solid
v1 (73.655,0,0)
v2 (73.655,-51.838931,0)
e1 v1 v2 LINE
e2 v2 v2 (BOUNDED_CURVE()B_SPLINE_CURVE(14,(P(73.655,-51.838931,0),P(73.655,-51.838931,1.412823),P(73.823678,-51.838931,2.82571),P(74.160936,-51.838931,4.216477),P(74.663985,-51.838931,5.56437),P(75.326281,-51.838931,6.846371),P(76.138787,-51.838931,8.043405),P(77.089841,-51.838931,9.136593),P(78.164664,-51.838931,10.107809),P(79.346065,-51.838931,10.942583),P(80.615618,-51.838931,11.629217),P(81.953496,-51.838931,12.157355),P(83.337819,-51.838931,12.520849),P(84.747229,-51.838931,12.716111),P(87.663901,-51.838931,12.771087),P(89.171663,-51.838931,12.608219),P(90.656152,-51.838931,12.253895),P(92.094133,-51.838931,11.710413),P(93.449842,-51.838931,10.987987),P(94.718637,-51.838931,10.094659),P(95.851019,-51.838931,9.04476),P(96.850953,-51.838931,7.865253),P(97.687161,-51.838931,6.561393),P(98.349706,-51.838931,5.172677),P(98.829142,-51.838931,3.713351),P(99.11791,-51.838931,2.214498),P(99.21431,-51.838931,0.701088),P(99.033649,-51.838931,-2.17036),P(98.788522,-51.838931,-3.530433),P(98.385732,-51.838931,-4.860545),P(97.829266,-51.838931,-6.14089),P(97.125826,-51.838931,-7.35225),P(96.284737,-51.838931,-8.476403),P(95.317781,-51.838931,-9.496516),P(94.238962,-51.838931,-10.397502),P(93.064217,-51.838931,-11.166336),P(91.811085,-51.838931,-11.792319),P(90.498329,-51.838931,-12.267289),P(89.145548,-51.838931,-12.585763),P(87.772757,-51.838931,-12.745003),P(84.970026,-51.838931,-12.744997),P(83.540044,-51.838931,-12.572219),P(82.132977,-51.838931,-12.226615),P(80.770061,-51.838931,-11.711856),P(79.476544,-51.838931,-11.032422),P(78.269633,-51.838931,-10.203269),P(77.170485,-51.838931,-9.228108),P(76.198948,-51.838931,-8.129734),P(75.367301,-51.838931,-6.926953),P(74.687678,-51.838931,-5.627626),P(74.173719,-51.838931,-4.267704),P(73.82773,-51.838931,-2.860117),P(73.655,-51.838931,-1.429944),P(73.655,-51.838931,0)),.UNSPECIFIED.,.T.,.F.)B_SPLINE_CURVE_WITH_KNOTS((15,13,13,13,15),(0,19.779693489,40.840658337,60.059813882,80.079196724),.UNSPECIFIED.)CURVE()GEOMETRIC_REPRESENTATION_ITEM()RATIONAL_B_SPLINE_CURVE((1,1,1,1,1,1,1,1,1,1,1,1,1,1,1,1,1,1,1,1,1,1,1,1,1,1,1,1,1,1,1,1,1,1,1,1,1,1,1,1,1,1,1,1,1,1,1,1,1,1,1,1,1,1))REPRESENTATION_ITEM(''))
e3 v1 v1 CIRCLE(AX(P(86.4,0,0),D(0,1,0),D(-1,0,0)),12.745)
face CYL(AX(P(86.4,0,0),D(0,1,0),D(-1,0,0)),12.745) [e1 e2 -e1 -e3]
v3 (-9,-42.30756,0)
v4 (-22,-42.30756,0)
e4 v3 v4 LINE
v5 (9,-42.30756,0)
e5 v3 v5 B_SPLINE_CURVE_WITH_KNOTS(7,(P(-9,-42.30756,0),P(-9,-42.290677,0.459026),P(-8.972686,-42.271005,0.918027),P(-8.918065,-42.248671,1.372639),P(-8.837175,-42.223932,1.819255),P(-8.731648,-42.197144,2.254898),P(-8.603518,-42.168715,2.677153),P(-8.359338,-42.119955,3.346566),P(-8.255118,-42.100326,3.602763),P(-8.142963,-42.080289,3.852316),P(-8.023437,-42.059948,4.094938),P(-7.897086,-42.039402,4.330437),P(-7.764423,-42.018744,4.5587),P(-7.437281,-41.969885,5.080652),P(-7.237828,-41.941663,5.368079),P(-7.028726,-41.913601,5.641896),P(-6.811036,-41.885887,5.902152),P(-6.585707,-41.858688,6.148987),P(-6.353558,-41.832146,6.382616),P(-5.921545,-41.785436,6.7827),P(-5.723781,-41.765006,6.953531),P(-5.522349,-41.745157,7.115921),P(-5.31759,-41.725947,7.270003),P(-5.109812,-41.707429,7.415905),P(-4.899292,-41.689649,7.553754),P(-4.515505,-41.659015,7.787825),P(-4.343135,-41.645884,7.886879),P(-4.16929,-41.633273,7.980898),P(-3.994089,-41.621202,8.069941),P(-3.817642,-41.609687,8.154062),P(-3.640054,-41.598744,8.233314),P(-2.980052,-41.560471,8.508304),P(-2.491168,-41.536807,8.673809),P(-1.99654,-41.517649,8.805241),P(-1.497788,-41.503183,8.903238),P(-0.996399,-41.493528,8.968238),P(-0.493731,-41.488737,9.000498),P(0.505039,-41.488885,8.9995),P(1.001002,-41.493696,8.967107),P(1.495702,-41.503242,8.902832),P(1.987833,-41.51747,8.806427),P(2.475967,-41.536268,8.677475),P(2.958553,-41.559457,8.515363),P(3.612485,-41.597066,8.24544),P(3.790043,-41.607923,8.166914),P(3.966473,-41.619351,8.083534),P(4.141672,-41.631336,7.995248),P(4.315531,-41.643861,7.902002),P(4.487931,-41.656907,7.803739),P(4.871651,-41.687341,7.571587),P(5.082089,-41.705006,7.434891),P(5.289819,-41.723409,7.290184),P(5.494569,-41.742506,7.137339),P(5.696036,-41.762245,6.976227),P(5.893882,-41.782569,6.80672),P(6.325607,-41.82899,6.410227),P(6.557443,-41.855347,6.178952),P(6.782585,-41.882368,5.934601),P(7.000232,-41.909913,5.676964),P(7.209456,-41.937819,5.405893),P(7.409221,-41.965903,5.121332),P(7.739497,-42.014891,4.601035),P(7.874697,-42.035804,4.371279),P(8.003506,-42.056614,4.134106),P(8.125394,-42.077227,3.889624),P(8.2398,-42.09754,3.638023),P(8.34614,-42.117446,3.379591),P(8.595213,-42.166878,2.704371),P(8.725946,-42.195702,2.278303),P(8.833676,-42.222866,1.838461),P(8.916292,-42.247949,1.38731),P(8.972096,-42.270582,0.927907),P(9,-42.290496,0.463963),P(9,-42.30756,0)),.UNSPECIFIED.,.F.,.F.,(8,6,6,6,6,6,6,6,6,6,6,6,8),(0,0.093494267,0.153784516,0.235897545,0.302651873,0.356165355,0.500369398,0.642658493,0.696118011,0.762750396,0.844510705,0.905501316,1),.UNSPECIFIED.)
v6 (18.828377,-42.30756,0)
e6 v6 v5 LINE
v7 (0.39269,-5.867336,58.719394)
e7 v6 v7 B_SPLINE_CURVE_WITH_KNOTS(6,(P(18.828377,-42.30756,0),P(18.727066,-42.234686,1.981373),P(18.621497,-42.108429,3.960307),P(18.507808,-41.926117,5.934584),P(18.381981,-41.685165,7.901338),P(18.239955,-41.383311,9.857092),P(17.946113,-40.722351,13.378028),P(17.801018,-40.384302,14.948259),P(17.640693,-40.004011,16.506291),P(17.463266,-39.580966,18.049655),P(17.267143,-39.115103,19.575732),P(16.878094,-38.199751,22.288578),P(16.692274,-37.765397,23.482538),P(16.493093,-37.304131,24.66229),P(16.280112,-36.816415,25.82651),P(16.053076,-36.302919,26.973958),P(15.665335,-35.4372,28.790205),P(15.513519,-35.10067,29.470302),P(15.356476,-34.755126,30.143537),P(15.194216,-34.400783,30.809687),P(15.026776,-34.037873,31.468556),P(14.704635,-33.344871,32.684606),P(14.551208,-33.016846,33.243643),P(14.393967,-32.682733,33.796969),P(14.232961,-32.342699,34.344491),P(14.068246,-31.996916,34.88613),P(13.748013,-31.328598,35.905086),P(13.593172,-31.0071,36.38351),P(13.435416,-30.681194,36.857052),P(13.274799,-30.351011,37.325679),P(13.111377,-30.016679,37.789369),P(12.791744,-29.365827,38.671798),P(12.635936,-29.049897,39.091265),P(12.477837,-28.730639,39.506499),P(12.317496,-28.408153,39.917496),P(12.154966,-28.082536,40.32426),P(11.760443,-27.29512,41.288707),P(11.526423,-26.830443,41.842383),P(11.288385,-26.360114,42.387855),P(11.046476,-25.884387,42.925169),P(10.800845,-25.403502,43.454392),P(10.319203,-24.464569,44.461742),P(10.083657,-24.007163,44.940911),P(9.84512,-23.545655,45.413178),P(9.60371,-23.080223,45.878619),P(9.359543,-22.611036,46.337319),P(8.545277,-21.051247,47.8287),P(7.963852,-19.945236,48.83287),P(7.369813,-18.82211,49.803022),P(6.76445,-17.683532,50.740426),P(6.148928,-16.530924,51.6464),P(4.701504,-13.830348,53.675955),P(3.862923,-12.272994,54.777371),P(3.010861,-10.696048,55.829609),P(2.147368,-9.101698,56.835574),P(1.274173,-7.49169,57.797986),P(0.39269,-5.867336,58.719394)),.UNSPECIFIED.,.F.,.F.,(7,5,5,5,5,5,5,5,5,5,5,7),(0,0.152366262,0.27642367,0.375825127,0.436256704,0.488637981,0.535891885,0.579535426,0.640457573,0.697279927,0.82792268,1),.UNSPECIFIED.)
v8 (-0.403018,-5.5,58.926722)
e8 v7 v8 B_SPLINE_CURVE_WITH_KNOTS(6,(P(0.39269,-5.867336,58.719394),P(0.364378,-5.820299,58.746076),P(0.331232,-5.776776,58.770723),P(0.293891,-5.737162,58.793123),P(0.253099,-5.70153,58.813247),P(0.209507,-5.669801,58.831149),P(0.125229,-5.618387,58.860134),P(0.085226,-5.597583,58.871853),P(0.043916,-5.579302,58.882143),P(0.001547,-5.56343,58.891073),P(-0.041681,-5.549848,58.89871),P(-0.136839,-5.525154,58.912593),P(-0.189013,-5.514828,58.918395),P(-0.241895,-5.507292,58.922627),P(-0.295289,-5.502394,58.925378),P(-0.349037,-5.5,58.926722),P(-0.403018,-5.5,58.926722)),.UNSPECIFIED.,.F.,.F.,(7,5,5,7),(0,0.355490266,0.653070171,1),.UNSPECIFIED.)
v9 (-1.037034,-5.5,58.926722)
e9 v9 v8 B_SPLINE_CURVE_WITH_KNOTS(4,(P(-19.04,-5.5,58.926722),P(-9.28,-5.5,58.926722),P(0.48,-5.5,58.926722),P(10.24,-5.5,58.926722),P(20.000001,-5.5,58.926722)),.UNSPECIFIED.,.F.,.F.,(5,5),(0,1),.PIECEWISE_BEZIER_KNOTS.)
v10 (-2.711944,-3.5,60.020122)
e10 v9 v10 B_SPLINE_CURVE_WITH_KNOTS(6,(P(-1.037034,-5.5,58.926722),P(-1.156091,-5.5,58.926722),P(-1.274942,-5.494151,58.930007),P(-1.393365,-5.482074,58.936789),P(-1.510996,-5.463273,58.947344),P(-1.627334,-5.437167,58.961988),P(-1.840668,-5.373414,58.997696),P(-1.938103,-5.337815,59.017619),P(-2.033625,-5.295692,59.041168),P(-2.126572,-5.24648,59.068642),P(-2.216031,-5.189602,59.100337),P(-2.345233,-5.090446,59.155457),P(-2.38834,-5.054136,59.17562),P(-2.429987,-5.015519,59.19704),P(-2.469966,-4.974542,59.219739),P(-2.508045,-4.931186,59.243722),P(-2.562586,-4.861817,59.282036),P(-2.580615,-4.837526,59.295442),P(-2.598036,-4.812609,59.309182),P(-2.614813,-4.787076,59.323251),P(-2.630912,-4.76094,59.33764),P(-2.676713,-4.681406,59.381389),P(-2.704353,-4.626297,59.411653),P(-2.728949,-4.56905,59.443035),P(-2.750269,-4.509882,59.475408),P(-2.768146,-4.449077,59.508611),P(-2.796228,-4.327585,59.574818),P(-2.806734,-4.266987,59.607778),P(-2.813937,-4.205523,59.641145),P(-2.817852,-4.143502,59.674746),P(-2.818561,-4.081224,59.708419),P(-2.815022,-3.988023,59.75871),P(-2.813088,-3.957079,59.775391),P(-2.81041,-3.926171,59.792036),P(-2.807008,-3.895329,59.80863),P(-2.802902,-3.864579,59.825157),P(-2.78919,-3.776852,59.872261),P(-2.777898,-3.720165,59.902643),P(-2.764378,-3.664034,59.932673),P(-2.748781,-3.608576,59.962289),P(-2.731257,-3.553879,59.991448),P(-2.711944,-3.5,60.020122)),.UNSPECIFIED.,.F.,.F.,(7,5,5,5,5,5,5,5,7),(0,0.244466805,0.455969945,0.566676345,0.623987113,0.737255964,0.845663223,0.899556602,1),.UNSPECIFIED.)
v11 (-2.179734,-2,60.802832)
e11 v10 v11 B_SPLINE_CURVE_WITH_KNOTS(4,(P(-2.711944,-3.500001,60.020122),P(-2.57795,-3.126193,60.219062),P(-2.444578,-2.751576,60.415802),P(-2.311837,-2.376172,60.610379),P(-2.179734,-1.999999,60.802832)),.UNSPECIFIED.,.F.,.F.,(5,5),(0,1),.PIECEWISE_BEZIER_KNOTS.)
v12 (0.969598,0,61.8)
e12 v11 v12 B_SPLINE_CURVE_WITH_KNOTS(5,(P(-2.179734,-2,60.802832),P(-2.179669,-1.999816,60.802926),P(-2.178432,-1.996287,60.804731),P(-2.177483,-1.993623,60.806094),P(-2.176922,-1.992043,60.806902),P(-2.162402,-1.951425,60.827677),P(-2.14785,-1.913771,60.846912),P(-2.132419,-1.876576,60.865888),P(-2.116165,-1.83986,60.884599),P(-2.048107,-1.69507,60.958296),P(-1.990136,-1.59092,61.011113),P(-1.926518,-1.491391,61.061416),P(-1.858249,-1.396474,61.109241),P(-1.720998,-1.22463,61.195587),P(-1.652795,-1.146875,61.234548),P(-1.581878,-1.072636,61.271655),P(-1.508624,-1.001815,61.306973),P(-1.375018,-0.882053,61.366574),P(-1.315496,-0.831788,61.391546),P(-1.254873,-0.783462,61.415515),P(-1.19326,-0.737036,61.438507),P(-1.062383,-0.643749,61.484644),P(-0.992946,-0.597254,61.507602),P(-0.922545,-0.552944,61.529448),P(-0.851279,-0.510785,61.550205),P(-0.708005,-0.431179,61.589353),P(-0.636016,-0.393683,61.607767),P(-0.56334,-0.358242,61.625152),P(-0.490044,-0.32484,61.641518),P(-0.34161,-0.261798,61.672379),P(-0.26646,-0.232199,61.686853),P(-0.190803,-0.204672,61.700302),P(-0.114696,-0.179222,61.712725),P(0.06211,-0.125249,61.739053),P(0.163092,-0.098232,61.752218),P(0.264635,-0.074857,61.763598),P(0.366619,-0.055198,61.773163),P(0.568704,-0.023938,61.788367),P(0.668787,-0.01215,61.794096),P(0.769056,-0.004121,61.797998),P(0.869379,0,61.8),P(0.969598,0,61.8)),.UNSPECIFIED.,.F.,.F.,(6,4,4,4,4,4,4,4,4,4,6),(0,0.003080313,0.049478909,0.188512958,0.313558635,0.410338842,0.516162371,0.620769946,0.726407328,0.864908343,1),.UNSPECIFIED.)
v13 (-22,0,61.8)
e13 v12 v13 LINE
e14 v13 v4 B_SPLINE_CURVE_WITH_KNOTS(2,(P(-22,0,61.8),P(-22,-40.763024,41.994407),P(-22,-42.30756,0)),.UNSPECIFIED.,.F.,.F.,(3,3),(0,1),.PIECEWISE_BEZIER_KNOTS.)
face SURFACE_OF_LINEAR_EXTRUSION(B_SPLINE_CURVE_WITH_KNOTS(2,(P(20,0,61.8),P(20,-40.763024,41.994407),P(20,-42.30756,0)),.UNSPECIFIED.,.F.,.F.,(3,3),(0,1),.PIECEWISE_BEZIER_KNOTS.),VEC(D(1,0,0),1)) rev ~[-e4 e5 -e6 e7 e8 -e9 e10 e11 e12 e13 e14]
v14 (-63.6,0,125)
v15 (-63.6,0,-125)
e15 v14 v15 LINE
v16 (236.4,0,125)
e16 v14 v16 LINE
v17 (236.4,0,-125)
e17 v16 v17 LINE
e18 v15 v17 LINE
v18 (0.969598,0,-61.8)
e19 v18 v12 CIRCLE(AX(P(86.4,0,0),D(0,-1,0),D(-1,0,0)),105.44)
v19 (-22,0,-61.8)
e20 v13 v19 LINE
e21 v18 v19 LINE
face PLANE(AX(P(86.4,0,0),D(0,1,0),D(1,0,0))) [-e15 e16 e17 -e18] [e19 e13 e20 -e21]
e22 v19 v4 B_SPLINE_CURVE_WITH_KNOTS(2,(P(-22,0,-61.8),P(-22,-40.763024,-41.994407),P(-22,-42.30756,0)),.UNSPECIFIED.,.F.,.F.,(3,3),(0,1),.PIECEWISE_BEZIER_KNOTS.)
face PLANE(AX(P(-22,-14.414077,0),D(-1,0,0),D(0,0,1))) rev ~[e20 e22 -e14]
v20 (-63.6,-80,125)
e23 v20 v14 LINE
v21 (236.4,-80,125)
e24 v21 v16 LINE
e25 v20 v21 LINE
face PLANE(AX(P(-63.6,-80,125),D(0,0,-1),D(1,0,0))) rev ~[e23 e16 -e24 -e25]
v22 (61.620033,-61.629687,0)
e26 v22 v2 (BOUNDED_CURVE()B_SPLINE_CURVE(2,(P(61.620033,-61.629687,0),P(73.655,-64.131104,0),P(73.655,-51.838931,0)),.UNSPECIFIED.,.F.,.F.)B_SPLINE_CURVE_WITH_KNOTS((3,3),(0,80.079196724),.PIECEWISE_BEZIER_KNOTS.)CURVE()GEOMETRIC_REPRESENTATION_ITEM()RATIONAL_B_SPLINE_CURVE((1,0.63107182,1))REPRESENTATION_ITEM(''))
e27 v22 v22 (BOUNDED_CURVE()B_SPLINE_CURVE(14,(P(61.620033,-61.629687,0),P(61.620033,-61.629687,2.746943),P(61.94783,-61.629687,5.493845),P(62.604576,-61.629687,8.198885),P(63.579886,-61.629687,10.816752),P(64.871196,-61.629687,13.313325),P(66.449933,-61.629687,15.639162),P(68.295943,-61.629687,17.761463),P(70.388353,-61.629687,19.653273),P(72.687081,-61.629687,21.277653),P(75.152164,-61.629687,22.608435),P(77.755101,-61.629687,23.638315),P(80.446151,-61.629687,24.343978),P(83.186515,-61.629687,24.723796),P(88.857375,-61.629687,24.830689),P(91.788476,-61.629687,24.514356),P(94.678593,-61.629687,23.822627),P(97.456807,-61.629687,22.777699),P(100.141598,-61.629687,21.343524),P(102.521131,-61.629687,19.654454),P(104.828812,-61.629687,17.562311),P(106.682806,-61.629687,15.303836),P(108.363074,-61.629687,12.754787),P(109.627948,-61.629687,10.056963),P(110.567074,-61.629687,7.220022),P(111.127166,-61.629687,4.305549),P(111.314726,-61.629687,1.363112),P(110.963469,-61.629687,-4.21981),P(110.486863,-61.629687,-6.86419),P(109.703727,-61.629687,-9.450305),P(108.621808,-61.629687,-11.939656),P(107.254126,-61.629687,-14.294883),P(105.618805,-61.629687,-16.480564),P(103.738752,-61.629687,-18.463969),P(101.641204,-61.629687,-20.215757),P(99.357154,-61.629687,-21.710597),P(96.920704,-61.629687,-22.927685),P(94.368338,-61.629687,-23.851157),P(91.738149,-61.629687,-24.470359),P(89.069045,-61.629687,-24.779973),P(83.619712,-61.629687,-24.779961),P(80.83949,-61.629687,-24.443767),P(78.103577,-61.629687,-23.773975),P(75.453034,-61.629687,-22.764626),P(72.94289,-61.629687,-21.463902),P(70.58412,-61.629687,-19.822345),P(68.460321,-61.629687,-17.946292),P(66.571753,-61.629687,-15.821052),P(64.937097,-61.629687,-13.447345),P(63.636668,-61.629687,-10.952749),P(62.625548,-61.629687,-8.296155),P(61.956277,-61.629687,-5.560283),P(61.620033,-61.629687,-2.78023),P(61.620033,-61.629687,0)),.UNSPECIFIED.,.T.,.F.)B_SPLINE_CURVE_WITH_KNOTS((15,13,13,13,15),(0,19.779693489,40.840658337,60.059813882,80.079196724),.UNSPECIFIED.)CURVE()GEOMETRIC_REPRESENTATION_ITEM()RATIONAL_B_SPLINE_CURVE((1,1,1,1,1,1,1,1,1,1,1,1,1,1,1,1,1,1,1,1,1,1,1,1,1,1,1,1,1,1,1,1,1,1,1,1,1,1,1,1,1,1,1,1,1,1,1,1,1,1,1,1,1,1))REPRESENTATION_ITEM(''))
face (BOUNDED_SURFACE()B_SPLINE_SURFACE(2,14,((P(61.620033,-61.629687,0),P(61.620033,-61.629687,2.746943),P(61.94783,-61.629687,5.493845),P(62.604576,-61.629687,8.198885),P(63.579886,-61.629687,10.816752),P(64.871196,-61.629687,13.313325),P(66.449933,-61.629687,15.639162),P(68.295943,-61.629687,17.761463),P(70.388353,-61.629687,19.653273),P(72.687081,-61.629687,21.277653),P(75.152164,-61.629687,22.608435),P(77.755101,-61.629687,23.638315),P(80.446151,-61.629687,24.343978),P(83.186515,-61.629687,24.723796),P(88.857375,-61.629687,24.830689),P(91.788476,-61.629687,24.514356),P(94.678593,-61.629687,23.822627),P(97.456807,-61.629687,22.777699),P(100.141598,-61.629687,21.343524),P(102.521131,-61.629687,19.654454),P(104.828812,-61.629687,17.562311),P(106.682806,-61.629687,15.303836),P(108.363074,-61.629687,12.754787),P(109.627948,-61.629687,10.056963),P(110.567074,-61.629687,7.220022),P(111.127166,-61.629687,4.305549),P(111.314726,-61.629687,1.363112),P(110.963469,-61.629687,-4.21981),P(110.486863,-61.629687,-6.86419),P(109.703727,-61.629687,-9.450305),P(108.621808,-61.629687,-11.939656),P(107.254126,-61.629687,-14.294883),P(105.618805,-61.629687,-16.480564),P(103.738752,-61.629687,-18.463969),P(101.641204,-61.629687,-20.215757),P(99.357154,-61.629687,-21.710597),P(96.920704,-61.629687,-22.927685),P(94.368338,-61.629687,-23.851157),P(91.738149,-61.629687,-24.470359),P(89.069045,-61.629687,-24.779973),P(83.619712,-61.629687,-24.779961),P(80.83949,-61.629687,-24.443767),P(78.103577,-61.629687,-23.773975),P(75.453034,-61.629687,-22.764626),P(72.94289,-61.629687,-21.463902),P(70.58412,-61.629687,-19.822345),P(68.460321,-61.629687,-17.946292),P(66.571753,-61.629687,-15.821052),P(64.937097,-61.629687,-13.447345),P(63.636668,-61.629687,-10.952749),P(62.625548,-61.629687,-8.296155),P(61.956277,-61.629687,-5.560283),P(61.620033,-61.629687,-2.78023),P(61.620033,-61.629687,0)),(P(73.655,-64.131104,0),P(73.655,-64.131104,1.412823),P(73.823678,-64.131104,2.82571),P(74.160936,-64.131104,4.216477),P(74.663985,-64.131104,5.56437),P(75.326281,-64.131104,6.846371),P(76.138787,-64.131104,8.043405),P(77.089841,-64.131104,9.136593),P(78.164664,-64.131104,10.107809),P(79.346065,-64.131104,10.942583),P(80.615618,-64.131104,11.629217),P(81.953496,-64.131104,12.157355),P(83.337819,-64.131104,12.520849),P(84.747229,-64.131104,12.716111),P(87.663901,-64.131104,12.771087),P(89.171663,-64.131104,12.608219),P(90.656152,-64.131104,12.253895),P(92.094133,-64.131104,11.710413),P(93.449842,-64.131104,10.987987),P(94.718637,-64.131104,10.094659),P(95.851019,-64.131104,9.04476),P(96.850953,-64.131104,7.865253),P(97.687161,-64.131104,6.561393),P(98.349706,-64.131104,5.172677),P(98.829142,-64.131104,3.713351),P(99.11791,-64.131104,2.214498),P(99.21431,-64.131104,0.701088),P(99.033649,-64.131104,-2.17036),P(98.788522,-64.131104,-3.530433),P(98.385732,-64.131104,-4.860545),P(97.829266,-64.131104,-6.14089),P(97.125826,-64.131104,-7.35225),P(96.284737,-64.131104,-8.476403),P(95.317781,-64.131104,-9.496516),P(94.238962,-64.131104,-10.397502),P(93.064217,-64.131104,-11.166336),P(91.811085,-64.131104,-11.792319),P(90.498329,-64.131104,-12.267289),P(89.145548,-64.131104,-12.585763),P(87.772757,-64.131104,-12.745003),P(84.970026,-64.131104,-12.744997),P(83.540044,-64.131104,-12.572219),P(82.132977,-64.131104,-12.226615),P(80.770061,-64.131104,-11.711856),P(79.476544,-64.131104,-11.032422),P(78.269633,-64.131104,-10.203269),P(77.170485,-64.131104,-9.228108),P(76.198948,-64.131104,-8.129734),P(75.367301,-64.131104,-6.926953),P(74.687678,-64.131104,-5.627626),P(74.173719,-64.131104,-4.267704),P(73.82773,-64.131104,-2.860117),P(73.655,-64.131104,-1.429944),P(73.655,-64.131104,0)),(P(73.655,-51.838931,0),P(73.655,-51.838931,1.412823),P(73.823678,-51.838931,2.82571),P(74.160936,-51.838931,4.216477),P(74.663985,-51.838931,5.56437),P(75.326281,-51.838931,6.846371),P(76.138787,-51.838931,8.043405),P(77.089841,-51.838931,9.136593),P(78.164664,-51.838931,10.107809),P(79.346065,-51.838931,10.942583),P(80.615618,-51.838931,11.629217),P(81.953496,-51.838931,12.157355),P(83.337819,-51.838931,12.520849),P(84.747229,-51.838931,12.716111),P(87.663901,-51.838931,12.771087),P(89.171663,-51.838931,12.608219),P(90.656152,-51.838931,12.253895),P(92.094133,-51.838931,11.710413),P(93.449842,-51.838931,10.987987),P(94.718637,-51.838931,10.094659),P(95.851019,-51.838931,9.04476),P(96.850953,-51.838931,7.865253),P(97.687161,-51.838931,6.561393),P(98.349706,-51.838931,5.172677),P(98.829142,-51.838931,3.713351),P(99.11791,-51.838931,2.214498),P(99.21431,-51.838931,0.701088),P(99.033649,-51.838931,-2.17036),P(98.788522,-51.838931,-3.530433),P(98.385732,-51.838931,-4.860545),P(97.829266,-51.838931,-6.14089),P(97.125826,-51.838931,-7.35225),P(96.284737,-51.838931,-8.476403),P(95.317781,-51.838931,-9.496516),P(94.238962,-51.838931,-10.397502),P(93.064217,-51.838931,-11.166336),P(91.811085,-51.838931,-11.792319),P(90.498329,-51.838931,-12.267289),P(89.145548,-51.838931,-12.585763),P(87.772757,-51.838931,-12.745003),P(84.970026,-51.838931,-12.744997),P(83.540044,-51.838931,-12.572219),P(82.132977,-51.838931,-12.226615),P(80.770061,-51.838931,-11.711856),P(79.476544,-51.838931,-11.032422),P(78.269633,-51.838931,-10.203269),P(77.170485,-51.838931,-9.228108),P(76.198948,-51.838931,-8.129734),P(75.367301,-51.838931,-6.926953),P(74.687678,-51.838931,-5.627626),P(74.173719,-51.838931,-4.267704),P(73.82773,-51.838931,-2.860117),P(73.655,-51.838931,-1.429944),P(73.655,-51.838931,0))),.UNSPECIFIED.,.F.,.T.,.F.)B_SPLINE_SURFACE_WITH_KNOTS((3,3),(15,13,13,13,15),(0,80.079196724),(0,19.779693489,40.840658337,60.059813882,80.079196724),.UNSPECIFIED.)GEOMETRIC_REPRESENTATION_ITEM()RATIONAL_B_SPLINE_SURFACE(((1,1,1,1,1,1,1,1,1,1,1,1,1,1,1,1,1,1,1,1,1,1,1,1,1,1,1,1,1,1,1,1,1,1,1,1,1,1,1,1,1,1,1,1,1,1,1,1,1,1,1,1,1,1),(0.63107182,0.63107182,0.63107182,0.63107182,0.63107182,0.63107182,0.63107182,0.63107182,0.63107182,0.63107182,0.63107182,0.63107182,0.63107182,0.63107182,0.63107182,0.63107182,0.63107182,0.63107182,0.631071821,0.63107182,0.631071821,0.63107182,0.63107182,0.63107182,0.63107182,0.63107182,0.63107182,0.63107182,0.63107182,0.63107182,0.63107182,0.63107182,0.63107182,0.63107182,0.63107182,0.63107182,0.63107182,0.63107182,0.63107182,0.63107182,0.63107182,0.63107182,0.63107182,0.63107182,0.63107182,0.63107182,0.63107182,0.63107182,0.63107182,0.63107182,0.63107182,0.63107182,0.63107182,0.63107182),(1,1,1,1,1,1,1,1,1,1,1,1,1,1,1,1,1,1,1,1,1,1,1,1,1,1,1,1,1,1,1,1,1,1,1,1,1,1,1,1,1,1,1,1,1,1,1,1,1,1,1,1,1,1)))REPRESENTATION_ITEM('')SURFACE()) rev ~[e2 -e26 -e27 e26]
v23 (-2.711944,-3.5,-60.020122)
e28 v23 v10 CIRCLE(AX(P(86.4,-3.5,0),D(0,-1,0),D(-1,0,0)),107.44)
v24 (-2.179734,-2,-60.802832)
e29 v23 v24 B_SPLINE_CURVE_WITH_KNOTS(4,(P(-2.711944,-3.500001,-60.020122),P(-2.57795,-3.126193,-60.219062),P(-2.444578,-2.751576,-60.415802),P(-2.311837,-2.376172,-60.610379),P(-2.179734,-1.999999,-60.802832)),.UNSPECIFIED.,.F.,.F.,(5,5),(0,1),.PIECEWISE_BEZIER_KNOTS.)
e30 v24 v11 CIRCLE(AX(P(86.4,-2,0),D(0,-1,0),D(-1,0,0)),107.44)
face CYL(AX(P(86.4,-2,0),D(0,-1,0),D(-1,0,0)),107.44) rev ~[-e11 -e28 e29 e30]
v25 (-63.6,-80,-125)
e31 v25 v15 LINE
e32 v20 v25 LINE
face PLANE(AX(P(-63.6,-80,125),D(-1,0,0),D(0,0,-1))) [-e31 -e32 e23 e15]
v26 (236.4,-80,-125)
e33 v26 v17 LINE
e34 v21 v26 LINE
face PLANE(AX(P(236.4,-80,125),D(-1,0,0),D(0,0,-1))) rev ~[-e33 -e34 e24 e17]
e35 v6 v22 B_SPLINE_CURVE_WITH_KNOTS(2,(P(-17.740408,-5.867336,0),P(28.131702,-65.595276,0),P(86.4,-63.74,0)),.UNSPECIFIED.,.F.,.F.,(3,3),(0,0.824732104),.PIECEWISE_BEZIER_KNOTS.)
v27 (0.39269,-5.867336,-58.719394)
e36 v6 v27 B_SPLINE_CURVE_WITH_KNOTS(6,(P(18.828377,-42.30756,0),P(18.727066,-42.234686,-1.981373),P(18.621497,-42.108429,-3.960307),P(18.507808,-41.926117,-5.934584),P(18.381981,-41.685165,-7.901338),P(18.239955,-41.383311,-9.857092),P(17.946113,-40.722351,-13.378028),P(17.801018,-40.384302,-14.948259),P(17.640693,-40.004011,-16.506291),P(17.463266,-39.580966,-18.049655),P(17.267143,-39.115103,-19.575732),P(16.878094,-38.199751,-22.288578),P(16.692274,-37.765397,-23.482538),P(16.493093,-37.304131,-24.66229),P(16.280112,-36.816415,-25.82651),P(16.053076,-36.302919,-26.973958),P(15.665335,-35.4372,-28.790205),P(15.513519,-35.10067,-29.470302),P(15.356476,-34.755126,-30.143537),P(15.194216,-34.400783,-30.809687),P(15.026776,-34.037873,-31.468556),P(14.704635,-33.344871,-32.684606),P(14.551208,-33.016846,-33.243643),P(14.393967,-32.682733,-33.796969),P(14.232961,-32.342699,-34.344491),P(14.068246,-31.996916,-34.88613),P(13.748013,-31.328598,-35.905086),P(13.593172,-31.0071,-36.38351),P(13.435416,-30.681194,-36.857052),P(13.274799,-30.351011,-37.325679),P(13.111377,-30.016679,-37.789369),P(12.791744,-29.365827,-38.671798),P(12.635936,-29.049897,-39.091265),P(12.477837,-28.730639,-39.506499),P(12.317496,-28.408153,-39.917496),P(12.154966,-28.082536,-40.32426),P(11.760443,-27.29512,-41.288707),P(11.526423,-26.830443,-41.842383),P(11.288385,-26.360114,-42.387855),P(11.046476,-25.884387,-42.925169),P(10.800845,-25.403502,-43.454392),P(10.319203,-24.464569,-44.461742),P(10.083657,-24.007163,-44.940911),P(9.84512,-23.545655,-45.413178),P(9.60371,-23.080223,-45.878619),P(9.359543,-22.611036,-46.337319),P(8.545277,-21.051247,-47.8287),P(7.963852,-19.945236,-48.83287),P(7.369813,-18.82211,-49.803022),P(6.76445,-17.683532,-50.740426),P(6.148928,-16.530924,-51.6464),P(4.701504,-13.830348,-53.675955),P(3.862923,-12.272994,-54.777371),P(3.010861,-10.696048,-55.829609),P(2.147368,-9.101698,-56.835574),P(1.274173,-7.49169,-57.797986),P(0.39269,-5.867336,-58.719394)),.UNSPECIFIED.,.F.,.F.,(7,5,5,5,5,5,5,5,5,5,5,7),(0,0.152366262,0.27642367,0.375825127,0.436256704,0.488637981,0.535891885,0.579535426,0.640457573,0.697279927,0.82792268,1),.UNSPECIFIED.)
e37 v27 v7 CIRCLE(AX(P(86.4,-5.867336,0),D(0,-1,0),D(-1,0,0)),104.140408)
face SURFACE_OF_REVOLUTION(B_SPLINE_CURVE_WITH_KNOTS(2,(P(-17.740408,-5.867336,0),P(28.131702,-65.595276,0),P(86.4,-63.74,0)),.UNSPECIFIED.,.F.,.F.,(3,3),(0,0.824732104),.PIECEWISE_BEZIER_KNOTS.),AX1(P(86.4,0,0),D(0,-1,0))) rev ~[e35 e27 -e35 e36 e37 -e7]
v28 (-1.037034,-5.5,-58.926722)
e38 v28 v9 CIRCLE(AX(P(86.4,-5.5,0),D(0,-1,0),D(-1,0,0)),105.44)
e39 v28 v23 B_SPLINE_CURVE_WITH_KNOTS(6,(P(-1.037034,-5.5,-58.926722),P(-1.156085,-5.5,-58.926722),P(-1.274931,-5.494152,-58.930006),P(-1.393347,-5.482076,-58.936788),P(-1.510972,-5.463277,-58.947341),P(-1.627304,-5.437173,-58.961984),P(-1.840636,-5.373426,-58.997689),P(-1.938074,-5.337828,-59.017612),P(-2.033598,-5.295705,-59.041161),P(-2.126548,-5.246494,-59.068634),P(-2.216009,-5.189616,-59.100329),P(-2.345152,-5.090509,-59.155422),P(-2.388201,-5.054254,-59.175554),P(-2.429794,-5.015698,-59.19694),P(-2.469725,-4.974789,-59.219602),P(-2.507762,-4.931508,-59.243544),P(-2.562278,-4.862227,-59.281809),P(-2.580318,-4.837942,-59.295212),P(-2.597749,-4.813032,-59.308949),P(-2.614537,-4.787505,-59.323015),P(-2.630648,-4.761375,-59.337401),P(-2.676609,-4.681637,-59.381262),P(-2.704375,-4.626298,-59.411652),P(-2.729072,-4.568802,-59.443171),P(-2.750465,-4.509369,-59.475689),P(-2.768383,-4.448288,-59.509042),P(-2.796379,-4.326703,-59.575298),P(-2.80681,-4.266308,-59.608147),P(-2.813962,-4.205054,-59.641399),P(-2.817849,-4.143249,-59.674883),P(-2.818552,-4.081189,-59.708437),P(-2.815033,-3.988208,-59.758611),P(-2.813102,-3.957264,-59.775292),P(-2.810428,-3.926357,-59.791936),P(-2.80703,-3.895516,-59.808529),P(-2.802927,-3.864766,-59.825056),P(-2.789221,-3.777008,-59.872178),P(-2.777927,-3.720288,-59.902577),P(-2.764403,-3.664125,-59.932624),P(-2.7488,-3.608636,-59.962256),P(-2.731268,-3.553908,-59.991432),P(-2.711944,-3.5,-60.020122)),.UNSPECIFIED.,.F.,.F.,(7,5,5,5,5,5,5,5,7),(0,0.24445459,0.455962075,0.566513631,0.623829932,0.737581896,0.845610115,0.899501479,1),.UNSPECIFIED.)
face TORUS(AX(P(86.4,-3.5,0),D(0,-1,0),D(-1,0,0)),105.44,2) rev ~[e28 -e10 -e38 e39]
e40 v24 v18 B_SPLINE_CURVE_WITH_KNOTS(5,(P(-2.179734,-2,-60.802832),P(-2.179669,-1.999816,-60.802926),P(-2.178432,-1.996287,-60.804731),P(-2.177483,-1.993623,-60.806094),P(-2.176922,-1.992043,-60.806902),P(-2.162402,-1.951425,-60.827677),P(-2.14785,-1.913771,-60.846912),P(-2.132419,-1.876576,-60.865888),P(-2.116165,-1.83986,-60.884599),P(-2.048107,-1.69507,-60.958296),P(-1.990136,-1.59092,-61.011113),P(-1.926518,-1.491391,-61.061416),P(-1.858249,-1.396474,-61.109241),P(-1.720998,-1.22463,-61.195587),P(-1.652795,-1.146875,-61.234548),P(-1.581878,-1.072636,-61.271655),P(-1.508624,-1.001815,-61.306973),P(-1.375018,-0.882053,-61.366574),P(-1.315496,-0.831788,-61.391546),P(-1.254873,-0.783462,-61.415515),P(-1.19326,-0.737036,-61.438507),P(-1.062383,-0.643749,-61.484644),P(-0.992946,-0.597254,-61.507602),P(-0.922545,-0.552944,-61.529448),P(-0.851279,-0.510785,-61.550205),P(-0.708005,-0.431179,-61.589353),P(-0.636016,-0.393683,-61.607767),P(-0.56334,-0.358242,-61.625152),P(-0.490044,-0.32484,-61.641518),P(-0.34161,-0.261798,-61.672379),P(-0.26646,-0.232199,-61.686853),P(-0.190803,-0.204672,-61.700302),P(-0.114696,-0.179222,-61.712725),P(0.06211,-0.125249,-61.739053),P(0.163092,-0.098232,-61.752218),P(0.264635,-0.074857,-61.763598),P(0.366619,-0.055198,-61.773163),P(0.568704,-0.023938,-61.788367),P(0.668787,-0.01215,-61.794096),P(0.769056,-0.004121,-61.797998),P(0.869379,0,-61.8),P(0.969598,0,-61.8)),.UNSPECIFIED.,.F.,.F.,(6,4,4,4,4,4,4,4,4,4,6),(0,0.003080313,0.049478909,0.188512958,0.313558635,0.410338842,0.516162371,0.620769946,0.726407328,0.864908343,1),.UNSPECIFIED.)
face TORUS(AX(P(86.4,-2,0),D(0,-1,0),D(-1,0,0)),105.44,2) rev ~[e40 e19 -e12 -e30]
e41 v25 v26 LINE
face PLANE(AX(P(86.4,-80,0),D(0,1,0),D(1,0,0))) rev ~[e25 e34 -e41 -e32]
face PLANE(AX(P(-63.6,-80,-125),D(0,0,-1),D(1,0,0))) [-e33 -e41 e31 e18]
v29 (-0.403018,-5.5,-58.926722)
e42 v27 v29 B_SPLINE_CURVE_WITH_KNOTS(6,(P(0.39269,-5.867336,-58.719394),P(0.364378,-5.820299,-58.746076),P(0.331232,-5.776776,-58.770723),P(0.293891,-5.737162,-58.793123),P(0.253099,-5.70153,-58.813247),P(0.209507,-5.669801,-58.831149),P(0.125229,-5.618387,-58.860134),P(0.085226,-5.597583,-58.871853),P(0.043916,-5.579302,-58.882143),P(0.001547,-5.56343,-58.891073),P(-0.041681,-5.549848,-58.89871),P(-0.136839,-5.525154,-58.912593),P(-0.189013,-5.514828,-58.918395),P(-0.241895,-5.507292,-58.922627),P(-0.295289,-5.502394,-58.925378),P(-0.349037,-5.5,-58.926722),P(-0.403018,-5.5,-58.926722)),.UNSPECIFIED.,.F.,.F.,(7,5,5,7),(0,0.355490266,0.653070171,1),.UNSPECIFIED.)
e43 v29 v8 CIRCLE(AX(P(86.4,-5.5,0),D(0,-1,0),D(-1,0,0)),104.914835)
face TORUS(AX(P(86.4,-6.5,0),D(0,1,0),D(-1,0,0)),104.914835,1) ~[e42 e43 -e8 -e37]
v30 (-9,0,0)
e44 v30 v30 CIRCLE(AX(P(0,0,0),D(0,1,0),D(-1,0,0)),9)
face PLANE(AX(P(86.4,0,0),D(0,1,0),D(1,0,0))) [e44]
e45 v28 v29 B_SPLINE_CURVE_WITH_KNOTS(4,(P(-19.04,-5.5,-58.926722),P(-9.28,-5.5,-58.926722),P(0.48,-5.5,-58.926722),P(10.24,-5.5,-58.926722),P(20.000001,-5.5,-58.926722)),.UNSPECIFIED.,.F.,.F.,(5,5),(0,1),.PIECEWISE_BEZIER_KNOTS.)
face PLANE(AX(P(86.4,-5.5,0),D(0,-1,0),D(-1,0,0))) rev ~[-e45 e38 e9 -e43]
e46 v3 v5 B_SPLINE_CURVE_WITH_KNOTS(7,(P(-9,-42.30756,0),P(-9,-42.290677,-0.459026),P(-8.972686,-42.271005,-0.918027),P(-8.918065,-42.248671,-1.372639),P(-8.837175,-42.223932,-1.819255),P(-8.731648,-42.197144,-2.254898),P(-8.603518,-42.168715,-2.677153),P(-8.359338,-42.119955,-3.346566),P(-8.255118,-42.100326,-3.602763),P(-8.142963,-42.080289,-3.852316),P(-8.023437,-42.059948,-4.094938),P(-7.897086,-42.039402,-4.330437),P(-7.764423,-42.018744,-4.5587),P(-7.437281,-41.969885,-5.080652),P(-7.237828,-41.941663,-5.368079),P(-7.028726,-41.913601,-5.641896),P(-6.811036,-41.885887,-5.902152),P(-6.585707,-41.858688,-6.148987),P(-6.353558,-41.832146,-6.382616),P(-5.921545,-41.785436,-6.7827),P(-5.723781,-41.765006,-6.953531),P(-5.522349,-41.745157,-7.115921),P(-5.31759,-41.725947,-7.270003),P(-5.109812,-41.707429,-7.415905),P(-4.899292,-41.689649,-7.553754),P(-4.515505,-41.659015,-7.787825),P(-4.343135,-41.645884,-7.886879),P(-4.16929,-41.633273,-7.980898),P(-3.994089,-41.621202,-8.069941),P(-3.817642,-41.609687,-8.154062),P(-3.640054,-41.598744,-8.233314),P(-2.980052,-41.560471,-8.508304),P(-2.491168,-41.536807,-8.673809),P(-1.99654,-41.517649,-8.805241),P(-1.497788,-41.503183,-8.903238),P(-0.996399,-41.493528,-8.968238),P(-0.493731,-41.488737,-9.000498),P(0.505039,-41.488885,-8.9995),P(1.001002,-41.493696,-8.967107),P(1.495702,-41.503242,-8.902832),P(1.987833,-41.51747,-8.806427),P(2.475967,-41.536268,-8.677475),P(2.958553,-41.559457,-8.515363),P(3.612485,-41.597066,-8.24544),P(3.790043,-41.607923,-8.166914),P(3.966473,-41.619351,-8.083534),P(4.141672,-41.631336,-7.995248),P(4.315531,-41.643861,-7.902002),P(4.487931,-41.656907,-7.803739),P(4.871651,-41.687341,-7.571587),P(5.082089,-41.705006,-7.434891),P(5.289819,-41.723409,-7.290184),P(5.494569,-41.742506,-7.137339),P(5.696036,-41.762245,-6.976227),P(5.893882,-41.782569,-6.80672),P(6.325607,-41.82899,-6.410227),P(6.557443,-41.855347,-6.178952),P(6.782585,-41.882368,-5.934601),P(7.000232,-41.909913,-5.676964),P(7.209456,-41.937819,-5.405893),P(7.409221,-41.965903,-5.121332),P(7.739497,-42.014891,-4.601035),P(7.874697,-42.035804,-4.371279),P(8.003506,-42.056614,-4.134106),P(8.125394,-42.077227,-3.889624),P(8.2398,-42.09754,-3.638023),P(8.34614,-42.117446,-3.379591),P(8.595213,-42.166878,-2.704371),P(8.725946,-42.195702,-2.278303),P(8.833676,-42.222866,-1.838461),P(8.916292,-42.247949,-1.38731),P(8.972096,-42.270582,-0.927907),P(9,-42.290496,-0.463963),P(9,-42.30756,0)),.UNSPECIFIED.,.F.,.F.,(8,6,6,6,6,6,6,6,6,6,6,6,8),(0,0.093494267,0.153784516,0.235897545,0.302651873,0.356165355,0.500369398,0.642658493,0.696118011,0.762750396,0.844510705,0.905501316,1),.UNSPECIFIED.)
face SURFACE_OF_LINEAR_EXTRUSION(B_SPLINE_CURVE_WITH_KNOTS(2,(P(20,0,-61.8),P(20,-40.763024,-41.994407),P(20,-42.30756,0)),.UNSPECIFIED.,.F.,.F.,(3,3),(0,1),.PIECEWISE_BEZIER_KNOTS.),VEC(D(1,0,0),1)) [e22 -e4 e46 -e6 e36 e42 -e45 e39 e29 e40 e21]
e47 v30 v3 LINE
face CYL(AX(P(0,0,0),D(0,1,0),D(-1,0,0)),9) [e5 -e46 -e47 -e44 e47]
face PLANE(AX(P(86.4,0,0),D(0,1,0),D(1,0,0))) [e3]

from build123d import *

# Parameters (mm, degrees)
BOSS_EXTRUDE1_DEPTH      = 42
SKETCH4_R                = 12.745
CUT_EXTRUDE2_DEPTH       = 231.623535649
SKETCH7_R                = 9
CUT_EXTRUDE4_DEPTH       = 231.513348808
BOSS_EXTRUDE2_DEPTH      = 20
BOSS_EXTRUDE2_DEPTH_BACK = 60
BOSS_EXTRUDE2_START      = -20
SKETCH8_W                = 300
SKETCH8_H                = 250
FILLET1_R                = 10


with BuildPart() as part:
    # Sketch1 → Revolve1 (revolve)
    with BuildSketch(Plane.XY):
        with BuildLine():
            Line((0, -2.75), (0, 0))
            Line((0, 0), (86.4, 0))
            Line((86.4, 0), (86.4, -51.52))
            add(Edge.make_bspline(
                [(0, -2.75), (26.471278047, -40.623393059), (56.78647802, -59.047909877), (86.4, -51.52)],
                knots=[0, 0, 0, 0, 0.721198988, 0.721198988, 0.721198988, 0.721198988], degree=3))
        make_face()
        with BuildLine():
            ThreePointArc((-18.514834727, -5.5), (-18.086269469, -5.596489171), (-17.740408022, -5.867336362))
            add(Edge.make_bspline(
                [(-17.740408022, -5.867336362), (28.13170189, -65.595276468), (86.4, -63.74)],
                knots=[0, 0, 0, 0.824732104, 0.824732104, 0.824732104], degree=2))
            Line((86.4, -63.74), (86.4, -51.52))
            add(Edge.make_bspline(
                [(0, -2.75), (26.471278047, -40.623393059), (56.78647802, -59.047909877), (86.4, -51.52)],
                knots=[0, 0, 0, 0, 0.721198988, 0.721198988, 0.721198988, 0.721198988], degree=3))
            Line((0, -2.75), (0, 0))
            Line((0, 0), (-19.04, 0))
            ThreePointArc((-19.04, 0), (-20.454213562, -0.585786438), (-21.04, -2))
            Line((-21.04, -2), (-21.04, -3.5))
            ThreePointArc((-21.04, -3.5), (-20.454213562, -4.914213562), (-19.04, -5.5))
            Line((-19.04, -5.5), (-18.514834727, -5.5))
        make_face()
    revolve(axis=Axis((86.4, 0, 0), (0, -1, 0)))

    # Sketch3 → Boss-Extrude1 (add)
    with BuildSketch(Plane(origin=(20, 0, 0), x_dir=(0, 0, -1), z_dir=(1, 0, 0))):
        with BuildLine():
            Line((-61.8, 0), (61.8, 0))
            add(Edge.make_bspline(
                [(61.8, 0), (41.99440737, -40.763024165), (0, -42.307560131)],
                knots=[0, 0, 0, 1, 1, 1], degree=2))
            add(Edge.make_bspline(
                [(-61.8, 0), (-41.99440737, -40.763024165), (0, -42.307560131)],
                knots=[0, 0, 0, 1, 1, 1], degree=2))
        make_face()
    extrude(amount=-BOSS_EXTRUDE1_DEPTH)

    # Sketch4 → Cut-Extrude2 (cut, through all)
    with BuildSketch(Plane(origin=(0, 0, 0), x_dir=(1, 0, 0), z_dir=(0, 1, 0))):
        with Locations(Location((86.4, 0, 0), (0, 0, 180))):
            Circle(SKETCH4_R)
    extrude(amount=-CUT_EXTRUDE2_DEPTH, mode=Mode.SUBTRACT)

    # Sketch7 → Cut-Extrude4 (cut, through all)
    with BuildSketch(Plane(origin=(0, 0, 0), x_dir=(1, 0, 0), z_dir=(0, 1, 0))):
        with Locations(Location((0, 0, 0), (0, 0, 180))):
            Circle(SKETCH7_R)
    extrude(amount=-CUT_EXTRUDE4_DEPTH, mode=Mode.SUBTRACT)


with BuildPart() as body_2:
    # Sketch8 → Boss-Extrude2 (new, two sides: drawn at the far end of the back side and taken through both)
    with BuildSketch(Plane(origin=(0, 0, 0), x_dir=(1, 0, 0), z_dir=(0, 1, 0)).offset(BOSS_EXTRUDE2_START - BOSS_EXTRUDE2_DEPTH_BACK)):
        with Locations((86.4, 0)):
            Rectangle(SKETCH8_W, SKETCH8_H)
    extrude(amount=BOSS_EXTRUDE2_DEPTH + BOSS_EXTRUDE2_DEPTH_BACK)

    # Combine1: cut part
    add(part.part, mode=Mode.SUBTRACT)

    # Fillet1
    fillet1_edges = [body_2.edges().sort_by_distance(p)[0] for p in [
        (99.145000004, -63.396409238, 2e-09),
    ]]
    fillet(fillet1_edges, radius=FILLET1_R)


solid = body_2.part
